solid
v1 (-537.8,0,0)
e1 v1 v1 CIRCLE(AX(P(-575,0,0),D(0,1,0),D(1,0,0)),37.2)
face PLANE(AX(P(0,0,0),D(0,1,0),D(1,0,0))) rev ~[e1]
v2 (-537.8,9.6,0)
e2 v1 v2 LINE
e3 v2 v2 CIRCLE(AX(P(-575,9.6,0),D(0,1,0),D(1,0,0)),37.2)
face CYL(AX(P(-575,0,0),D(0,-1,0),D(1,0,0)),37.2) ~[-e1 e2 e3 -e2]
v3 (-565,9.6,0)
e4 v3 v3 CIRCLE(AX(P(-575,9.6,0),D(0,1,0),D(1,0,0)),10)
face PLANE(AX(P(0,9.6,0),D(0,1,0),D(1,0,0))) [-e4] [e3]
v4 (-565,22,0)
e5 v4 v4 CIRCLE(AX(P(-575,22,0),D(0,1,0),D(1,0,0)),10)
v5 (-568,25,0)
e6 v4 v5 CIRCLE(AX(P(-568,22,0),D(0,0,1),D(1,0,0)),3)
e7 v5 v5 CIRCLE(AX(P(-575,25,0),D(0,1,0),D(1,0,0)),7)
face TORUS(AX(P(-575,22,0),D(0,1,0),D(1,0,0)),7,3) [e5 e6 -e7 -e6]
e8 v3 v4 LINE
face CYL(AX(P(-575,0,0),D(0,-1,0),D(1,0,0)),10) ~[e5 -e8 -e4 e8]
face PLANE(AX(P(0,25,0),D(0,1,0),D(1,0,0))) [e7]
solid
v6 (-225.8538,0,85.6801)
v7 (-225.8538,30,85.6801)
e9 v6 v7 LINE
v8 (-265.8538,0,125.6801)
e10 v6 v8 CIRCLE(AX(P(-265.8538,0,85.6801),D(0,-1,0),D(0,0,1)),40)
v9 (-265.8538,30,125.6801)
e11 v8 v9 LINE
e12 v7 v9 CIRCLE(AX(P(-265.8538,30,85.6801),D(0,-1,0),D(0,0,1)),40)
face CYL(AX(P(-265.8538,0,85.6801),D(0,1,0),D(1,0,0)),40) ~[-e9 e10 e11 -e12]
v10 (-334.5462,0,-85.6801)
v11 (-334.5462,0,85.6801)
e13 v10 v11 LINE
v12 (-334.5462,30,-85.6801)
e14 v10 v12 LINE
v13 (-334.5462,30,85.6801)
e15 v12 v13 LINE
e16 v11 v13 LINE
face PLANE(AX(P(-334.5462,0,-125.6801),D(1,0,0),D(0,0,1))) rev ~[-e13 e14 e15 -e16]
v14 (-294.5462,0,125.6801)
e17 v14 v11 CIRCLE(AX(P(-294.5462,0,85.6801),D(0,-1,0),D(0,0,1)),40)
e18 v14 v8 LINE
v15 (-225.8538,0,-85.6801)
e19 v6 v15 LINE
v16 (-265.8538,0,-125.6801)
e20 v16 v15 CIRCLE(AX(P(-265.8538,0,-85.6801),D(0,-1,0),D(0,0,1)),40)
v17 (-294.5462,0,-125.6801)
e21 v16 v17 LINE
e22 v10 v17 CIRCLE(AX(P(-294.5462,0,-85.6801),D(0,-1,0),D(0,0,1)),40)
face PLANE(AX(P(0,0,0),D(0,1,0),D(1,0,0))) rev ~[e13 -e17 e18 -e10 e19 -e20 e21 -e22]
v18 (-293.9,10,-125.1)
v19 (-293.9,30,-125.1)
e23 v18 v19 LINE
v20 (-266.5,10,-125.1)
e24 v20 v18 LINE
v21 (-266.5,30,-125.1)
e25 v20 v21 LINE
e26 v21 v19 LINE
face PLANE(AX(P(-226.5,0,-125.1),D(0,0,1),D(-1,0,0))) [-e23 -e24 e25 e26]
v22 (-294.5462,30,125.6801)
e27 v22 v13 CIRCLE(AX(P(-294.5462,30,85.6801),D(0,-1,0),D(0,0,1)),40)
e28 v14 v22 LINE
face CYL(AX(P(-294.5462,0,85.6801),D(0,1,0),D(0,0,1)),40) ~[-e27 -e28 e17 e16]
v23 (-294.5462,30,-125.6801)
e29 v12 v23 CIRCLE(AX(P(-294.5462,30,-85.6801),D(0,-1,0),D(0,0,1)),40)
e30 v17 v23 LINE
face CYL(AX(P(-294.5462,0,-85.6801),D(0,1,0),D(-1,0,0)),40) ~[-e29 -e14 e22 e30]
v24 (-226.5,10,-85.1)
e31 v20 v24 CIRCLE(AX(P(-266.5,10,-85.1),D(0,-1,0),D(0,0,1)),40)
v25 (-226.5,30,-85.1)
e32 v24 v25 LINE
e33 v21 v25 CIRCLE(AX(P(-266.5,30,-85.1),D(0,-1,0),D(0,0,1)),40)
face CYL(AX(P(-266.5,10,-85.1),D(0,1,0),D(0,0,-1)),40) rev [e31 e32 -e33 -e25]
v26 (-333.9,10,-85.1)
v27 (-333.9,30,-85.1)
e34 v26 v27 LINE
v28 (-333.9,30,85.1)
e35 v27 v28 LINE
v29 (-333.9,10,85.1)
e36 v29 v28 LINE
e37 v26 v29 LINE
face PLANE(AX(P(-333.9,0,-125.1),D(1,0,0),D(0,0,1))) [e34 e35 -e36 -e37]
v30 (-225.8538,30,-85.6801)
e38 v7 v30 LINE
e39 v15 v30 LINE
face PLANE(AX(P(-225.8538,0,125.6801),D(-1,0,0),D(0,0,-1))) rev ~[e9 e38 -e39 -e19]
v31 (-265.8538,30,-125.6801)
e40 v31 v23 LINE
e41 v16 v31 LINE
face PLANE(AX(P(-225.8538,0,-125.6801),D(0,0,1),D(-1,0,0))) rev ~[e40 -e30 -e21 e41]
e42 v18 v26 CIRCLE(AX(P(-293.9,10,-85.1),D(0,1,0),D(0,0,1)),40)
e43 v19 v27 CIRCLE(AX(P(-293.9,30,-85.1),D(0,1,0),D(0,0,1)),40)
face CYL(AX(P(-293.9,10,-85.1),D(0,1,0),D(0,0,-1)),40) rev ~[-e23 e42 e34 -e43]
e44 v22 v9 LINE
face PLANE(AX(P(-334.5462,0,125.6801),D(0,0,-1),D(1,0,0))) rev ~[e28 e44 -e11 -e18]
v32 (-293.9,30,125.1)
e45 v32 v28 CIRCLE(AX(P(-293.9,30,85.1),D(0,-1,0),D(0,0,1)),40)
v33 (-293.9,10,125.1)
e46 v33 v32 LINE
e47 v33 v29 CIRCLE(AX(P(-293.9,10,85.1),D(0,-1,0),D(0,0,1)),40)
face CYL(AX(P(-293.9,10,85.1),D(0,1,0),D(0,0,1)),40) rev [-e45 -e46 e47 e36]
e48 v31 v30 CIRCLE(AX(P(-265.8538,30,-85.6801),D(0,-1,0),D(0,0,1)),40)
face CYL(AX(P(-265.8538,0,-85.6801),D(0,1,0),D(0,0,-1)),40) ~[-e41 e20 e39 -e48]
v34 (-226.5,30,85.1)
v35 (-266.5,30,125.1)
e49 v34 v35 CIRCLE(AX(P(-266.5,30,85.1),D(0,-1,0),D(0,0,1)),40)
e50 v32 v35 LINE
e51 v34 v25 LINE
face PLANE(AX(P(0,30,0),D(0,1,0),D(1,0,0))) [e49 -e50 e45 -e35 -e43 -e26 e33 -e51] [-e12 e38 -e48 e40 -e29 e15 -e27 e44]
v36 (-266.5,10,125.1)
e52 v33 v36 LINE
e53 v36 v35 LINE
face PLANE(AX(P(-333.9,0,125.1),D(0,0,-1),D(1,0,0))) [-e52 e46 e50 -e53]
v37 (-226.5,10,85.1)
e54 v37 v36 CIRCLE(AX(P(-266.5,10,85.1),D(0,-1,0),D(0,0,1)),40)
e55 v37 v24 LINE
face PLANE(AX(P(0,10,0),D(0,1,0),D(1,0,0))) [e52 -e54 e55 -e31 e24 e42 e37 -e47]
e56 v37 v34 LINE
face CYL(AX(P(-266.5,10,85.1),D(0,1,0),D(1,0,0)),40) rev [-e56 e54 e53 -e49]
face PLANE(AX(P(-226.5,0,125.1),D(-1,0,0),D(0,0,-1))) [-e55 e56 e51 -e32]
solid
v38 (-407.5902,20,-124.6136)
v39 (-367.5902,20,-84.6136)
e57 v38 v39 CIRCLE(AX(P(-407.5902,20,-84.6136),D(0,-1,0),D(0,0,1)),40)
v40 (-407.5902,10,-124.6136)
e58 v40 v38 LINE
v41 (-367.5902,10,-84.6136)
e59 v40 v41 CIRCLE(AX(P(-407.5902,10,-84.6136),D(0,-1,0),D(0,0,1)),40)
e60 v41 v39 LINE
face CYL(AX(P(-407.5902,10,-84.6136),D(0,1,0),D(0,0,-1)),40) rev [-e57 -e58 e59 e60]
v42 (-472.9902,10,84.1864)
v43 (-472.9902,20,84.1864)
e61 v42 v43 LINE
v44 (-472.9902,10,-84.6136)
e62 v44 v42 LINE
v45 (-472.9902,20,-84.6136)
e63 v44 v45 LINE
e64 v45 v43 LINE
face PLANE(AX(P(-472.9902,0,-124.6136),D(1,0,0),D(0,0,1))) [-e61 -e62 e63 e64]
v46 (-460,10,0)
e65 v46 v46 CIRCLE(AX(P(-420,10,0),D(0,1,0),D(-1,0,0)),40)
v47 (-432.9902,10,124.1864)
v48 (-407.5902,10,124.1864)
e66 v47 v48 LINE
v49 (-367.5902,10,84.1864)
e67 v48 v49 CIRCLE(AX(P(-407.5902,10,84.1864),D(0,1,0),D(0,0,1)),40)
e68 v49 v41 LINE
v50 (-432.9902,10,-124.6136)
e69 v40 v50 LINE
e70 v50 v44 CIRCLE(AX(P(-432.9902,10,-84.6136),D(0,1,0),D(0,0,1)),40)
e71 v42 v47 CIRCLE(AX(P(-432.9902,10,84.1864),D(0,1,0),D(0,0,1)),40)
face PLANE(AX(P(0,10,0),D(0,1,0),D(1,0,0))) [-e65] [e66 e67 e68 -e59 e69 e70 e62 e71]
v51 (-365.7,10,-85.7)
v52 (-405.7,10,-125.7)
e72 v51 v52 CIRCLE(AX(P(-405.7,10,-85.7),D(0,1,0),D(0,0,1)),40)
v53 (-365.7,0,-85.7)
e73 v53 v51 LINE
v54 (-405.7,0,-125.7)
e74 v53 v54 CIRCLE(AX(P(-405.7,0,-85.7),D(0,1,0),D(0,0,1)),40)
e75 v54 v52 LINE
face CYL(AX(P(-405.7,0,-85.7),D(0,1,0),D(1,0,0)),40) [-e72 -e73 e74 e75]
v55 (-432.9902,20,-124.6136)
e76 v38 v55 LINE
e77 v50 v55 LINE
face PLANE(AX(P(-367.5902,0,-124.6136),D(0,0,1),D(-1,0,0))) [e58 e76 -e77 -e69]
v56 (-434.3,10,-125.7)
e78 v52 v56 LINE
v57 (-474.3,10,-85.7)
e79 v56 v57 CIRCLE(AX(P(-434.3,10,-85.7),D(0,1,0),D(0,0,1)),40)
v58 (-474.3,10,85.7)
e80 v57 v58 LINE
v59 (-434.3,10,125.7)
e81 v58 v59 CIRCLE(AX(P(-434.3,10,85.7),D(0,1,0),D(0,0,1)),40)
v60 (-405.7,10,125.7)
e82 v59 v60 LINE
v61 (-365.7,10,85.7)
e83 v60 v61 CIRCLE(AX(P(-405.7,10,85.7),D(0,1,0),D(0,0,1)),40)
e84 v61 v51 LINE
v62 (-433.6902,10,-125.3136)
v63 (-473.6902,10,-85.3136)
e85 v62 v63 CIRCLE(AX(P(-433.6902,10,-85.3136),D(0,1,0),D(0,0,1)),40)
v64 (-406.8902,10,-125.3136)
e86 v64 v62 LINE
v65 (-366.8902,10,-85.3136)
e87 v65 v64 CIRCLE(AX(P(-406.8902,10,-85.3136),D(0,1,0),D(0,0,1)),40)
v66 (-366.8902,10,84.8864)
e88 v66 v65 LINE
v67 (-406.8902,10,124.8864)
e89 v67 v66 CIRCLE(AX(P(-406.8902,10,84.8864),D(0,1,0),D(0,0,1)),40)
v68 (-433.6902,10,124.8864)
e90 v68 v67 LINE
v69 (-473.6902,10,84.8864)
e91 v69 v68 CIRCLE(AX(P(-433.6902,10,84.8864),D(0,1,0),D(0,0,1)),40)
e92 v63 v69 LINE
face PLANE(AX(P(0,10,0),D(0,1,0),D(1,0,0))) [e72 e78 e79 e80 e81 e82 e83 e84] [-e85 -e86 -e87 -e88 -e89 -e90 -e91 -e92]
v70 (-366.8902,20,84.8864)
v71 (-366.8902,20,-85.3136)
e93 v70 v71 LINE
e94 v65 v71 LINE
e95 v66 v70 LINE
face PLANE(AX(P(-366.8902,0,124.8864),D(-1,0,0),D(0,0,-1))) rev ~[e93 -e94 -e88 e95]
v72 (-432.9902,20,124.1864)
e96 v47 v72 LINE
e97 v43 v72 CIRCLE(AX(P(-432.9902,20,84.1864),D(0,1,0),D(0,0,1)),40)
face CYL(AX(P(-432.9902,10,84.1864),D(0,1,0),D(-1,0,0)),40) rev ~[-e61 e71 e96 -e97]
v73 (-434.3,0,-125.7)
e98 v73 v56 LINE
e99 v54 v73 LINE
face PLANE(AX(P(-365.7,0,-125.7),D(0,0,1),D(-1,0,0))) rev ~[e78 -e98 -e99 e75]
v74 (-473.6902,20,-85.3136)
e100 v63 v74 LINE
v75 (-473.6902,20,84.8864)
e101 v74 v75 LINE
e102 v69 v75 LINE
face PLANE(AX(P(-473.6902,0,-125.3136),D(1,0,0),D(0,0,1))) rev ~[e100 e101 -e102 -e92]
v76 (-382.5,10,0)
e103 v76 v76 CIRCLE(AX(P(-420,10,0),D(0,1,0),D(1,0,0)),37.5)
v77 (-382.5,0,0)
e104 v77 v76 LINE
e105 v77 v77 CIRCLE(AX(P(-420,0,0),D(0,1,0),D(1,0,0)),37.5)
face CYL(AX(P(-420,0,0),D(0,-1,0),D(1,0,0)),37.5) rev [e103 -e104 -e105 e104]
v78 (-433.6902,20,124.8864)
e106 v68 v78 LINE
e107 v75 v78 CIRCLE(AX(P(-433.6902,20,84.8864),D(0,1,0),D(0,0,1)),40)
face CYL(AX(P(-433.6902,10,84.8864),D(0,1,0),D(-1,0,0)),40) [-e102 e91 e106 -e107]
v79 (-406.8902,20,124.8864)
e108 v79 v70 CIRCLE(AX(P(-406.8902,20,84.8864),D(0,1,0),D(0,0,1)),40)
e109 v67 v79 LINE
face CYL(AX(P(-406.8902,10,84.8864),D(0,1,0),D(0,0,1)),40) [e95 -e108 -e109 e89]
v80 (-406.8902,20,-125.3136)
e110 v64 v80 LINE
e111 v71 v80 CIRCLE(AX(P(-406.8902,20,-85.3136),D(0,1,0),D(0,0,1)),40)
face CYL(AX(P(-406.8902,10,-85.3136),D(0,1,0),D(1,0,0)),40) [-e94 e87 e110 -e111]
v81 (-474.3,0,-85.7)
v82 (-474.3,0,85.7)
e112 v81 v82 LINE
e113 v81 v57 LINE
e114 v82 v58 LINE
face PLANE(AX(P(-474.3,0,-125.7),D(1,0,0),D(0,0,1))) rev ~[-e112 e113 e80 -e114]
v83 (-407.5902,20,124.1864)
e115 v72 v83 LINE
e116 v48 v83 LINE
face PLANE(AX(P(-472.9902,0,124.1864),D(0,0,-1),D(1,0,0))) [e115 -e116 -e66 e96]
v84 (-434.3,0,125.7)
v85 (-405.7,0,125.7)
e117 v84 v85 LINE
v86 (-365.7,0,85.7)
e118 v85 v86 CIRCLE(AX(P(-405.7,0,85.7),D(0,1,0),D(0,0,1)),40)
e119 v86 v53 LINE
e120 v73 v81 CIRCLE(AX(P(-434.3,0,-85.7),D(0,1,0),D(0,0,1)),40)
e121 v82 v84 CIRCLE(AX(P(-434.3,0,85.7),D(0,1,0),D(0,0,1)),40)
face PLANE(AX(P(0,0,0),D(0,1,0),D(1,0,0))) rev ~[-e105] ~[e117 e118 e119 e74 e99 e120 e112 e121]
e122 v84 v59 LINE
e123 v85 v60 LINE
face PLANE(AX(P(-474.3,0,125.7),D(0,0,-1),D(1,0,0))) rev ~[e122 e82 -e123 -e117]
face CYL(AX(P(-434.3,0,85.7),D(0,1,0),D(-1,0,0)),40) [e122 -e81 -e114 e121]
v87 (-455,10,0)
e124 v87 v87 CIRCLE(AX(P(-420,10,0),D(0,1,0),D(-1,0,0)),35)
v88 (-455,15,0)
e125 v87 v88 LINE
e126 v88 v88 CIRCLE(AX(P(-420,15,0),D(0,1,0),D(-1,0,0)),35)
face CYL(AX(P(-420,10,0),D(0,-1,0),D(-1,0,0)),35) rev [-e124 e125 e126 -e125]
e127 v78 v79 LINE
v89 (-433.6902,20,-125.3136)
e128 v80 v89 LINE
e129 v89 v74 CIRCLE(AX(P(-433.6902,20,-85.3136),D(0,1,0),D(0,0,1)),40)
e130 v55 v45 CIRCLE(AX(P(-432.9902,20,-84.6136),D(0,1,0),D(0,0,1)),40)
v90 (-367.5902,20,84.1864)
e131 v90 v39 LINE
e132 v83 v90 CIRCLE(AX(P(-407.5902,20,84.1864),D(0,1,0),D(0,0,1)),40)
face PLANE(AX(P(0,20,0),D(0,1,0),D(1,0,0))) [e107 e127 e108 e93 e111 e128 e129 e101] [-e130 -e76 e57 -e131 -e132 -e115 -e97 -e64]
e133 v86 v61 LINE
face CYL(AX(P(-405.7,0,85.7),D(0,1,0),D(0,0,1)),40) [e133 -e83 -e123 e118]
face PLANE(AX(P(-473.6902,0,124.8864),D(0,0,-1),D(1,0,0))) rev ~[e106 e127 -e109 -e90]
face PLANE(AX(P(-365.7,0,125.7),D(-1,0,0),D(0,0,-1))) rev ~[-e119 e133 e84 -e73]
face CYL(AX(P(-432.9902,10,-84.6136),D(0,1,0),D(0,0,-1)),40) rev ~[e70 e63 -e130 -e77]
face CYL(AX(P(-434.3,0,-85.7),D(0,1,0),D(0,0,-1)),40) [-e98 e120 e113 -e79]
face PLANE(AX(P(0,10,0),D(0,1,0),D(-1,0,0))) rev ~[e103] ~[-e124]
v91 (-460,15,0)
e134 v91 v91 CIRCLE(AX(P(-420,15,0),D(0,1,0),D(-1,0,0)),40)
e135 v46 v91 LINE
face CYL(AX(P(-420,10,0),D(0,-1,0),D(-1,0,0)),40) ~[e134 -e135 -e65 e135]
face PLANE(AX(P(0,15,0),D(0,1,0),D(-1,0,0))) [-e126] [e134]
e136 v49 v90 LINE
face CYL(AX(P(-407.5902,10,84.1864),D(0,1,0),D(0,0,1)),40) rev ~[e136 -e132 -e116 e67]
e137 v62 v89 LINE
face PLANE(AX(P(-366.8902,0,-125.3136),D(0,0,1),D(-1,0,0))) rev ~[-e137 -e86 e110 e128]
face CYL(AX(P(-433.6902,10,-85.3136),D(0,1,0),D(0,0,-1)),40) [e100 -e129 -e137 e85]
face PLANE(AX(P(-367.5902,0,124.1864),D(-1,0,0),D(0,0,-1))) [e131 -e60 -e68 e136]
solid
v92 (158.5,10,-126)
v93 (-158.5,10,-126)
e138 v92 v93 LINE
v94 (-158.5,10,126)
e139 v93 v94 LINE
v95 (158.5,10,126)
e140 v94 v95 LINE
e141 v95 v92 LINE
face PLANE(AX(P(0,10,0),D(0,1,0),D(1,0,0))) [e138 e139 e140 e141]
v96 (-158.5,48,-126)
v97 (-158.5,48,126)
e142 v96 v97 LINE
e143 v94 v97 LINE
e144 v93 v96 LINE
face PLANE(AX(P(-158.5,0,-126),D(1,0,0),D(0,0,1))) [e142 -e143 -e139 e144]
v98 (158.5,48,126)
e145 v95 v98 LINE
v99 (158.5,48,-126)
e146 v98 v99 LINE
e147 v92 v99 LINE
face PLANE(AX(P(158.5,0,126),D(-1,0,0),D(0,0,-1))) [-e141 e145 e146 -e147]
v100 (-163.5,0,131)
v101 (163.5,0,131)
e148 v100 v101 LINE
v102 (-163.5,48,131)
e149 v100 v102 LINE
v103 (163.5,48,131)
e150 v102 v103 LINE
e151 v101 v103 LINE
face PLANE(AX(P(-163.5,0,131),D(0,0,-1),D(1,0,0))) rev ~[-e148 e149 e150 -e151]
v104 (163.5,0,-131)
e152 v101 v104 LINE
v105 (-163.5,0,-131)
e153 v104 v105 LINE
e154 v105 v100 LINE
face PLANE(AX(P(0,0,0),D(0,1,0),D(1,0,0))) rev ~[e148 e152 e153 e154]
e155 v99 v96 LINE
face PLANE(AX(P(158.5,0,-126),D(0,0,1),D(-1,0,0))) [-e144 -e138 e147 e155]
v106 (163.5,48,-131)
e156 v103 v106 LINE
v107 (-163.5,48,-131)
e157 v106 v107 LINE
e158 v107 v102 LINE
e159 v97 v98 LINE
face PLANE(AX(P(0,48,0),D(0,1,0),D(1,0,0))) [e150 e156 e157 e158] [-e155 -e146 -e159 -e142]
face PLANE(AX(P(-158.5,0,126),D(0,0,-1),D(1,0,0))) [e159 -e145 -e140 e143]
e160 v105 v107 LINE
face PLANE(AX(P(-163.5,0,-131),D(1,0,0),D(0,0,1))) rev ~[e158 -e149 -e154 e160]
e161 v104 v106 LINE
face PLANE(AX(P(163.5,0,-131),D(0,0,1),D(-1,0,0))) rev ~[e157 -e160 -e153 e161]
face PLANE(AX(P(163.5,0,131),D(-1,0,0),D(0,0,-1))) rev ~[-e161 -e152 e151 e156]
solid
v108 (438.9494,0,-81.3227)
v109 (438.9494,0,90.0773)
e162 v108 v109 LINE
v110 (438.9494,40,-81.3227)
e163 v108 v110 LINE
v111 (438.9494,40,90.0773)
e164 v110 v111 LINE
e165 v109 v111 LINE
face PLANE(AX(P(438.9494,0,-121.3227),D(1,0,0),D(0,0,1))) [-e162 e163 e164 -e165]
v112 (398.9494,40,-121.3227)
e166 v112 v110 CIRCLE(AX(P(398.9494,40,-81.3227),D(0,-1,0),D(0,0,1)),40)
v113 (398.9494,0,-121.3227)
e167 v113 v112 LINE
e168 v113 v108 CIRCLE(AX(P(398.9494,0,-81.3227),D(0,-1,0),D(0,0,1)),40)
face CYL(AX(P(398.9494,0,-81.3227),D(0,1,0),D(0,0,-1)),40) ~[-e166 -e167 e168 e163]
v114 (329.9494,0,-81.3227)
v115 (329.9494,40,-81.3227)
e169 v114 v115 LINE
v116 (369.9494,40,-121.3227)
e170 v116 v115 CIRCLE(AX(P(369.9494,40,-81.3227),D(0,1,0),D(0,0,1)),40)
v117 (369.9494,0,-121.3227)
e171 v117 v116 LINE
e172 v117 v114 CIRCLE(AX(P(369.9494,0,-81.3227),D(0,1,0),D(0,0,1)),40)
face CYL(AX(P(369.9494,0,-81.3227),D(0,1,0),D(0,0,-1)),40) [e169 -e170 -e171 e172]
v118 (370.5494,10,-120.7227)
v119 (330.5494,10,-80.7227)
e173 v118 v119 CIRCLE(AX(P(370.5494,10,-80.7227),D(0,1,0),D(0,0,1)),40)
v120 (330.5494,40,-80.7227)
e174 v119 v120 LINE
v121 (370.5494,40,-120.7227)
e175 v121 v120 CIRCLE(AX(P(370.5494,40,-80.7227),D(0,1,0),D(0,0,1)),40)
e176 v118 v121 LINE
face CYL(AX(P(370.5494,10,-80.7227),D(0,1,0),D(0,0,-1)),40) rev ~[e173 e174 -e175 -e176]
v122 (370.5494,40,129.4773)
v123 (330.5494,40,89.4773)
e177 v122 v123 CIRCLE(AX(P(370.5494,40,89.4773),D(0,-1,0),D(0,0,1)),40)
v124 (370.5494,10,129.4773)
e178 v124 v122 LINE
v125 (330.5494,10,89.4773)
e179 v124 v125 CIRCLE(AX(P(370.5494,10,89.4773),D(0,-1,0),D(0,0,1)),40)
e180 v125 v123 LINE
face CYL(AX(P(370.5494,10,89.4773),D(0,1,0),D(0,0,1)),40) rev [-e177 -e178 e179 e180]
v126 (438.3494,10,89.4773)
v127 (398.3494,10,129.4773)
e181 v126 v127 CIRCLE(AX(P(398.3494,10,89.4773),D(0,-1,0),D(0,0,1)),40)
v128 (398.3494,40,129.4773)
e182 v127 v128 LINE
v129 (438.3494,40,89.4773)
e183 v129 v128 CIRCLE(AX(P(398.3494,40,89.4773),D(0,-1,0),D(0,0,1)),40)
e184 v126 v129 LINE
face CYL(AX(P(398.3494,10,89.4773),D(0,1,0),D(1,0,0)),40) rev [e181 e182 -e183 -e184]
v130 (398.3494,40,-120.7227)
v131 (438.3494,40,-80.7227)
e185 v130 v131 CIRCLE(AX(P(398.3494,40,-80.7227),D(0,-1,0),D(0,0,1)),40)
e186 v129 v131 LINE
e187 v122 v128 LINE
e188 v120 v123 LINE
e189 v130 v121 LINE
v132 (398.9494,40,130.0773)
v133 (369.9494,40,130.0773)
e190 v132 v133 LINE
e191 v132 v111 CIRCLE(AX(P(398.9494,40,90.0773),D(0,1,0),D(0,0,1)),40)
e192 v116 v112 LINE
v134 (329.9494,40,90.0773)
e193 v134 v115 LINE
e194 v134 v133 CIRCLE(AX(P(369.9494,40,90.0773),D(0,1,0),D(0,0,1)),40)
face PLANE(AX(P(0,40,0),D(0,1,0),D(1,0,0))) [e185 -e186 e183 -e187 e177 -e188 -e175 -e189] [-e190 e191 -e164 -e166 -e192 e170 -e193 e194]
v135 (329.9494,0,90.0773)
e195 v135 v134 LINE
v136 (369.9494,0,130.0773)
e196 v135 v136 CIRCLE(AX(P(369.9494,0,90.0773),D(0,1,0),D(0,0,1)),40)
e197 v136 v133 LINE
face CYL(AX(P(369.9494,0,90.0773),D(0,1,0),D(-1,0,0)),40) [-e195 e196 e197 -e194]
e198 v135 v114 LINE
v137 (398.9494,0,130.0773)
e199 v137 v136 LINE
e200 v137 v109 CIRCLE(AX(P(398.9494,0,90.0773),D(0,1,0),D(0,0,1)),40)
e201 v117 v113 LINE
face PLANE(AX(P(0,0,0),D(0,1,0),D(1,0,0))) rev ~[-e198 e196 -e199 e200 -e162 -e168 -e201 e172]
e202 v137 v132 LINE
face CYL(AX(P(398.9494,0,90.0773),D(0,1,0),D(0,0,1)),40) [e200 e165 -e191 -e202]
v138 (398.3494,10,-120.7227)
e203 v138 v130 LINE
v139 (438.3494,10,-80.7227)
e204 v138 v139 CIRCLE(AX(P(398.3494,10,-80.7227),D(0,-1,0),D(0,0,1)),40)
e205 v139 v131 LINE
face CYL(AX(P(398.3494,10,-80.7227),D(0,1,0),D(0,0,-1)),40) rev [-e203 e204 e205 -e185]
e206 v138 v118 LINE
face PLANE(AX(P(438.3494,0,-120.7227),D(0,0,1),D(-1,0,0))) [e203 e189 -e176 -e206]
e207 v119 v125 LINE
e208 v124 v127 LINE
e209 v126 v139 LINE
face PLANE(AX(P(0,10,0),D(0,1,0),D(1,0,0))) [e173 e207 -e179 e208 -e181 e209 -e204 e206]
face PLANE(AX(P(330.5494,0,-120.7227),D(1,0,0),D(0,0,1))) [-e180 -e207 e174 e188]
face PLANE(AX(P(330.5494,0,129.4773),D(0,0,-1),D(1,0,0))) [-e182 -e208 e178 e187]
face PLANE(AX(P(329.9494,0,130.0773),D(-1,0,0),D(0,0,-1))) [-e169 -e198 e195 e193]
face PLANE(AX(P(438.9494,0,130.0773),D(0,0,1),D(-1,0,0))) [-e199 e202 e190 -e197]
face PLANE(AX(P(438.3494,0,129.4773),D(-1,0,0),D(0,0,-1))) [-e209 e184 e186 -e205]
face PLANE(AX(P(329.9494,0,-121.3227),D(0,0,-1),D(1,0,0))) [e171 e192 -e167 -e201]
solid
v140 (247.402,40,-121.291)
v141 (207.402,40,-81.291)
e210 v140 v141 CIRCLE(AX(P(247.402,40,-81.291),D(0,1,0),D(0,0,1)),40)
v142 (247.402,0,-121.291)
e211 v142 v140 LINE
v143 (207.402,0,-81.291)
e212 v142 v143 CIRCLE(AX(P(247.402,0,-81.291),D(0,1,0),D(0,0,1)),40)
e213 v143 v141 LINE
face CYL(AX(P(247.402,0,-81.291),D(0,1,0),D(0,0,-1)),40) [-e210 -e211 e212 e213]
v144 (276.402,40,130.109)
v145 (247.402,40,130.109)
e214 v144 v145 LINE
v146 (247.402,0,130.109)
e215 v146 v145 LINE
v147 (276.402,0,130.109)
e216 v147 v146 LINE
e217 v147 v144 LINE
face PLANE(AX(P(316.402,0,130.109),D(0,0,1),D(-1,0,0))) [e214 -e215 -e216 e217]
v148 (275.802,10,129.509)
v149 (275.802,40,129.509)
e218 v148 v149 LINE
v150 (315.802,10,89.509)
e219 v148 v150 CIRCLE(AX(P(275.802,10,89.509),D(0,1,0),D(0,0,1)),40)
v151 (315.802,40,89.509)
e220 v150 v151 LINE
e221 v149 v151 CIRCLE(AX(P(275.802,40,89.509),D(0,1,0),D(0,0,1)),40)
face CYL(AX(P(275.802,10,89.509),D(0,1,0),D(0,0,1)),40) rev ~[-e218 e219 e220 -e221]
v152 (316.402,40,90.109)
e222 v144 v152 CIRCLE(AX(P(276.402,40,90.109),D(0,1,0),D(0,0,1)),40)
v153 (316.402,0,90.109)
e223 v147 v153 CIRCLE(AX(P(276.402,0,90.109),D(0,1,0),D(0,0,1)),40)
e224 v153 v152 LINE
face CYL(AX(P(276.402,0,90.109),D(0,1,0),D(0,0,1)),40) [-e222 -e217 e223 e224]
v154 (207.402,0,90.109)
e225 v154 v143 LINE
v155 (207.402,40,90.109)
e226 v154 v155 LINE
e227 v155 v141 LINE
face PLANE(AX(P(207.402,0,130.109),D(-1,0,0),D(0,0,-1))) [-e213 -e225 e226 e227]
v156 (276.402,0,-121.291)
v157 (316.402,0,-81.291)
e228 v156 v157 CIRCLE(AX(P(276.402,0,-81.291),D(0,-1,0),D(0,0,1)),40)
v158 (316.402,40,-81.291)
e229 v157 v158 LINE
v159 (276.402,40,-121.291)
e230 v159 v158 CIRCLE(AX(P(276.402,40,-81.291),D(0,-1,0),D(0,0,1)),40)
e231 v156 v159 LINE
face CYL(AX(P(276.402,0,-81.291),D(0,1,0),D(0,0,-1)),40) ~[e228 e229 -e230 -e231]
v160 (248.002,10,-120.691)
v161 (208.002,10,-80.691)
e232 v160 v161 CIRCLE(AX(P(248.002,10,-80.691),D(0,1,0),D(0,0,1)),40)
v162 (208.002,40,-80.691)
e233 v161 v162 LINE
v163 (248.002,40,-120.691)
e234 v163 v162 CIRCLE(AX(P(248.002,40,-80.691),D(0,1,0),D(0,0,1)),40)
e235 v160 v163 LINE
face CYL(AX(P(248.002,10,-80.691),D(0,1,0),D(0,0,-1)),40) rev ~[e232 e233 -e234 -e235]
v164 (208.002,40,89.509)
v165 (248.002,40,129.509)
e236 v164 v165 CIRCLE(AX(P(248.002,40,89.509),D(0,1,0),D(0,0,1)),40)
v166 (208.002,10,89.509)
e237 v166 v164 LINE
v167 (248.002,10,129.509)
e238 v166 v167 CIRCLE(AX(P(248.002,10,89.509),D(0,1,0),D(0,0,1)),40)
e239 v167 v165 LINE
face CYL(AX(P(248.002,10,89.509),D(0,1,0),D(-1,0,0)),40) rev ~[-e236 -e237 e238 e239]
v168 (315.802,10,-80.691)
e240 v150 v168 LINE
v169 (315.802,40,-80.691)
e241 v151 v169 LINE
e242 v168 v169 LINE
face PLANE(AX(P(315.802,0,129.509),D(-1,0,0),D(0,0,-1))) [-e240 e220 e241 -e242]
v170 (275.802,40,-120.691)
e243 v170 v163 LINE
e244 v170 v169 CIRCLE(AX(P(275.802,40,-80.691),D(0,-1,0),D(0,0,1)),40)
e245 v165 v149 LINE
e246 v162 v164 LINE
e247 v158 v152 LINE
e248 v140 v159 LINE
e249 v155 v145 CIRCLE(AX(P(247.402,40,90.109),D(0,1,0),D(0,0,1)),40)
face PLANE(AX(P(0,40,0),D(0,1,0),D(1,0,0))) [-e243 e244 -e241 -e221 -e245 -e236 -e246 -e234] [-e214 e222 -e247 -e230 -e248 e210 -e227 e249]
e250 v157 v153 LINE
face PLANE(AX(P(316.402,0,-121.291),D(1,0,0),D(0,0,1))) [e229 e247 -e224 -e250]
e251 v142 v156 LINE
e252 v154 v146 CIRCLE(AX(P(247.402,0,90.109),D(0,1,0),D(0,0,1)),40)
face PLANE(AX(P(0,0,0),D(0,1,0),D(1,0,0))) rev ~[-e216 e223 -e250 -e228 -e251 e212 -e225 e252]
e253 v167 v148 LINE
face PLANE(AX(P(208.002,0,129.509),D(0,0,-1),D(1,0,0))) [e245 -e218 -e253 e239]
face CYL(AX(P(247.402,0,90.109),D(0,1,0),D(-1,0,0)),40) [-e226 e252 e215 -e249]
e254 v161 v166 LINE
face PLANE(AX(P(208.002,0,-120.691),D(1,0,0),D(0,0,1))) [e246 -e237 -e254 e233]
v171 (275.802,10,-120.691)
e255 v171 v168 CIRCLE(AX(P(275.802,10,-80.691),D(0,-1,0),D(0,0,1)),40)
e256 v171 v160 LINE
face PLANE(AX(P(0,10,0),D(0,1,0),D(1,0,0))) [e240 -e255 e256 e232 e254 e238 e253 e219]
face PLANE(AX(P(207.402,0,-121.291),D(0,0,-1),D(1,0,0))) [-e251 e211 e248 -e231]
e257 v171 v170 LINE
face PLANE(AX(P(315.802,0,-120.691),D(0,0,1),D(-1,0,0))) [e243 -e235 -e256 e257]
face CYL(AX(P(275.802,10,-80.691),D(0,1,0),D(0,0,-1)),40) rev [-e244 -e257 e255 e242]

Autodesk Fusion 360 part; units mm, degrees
sketch "Sketch1" plane through (0, 0, 0) normal (0, 1, 0) x (1, 0, 0)
  line L0 (163.5, 131) -> (-163.5, 131)
  line L1 (-163.5, 131) -> (-163.5, -131)
  line L2 (-163.5, -131) -> (163.5, -131)
  line L3 (163.5, -131) -> (163.5, 131)
  line L4 (163.5, 131) -> (-163.5, -131) construction
  line L5 (-163.5, 131) -> (163.5, -131) construction
  line L6 (158.5, 126) -> (-158.5, 126)
  line L7 (-158.5, 126) -> (-158.5, -126)
  line L8 (-158.5, -126) -> (158.5, -126)
  line L9 (158.5, -126) -> (158.5, 126)
  line L10 (158.5, 126) -> (-158.5, -126) construction
  line L11 (-158.5, 126) -> (158.5, -126) construction
  dimension "d1" = 327
  dimension "d2" = 262
  dimension "d3" = 317
  dimension "d4" = 252
extrude "Extrude1" add sketch "Sketch1" along normal blind 48 makes body 1
sketch "Sketch2" plane through (0, 0, 0) normal (0, 1, 0) x (1, 0, 0)
  line L0 (-161.5, 130) -> (161.5, 130)
  line L1 (161.5, 130) -> (161.5, -130)
  line L2 (161.5, -130) -> (-161.5, -130)
  line L3 (-161.5, -130) -> (-161.5, 130)
  line L4 (-161.5, 130) -> (161.5, -130) construction
  line L5 (161.5, 130) -> (-161.5, -130) construction
  dimension "d7" = 323
  dimension "d8" = 260
extrude "Extrude2" add sketch "Sketch2" along normal blind 10 bodies 1
sketch "Sketch3" plane through (0, 10, 0) normal (0, 1, 0) x (-1, 0, 0)
  line L0 (158.5, 126) -> (-158.5, 126)
  line L1 (-158.5, 126) -> (-158.5, -126)
  line L2 (-158.5, -126) -> (158.5, -126)
  line L3 (158.5, -126) -> (158.5, 126)
sketch "Sketch4" plane through (0, 10, 0) normal (0, 1, 0) x (-1, 0, 0)
  line L0 (158.5, 126) -> (-158.5, 126)
  line L1 (-158.5, 126) -> (-158.5, -126)
  line L2 (-158.5, -126) -> (158.5, -126)
  line L3 (158.5, -126) -> (158.5, 126)
  line L4 (-320, -124) -> (-220, -124)
  line L5 (-220, -124) -> (-220, 124)
  line L6 (-220, 124) -> (-320, 124)
  line L7 (-320, 124) -> (-320, -124)
  line L8 (-320, -124) -> (-220, 124) construction
  line L9 (-220, -124) -> (-320, 124) construction
  point P0 (-270, 0)
  dimension "d17" = 100
  dimension "d18" = 248
sketch "Sketch5" plane through (0, 20, 0) normal (0, 1, 0) x (-1, 0, 0)
sketch "Sketch6" plane through (0, 10, 0) normal (0, 1, 0) x (-1, 0, 0)
  line L0 (158.5, 126) -> (-158.5, 126)
  line L1 (-158.5, 126) -> (-158.5, -126)
  line L2 (-158.5, -126) -> (158.5, -126)
  line L3 (158.5, -126) -> (158.5, 126)
sketch "Sketch9" plane through (0, 20, 0) normal (0, 1, 0) x (-1, 0, 0)
sketch "Sketch10" plane through (0, 10, 0) normal (0, 1, 0) x (-1, 0, 0)
sketch "Sketch11" plane through (0, 0, 0) normal (0, 1, 0) x (1, 0, 0)
sketch "Sketch12" plane through (0, 20, 0) normal (0, 1, 0) x (1, 0, 0)
sketch "Sketch14" plane through (0, 0, 0) normal (0, 1, 0) x (1, 0, 0)
sketch "Sketch15" plane through (0, 0, 0) normal (0, 1, 0) x (1, 0, 0)
  line L0 (207.402, 121.291) -> (316.402, 121.291)
  line L1 (316.402, 121.291) -> (316.402, -130.109)
  line L2 (316.402, -130.109) -> (207.402, -130.109)
  line L3 (207.402, -130.109) -> (207.402, 121.291)
  line L4 (207.402, 121.291) -> (316.402, -130.109) construction
  line L5 (316.402, 121.291) -> (207.402, -130.109) construction
  line L6 (315.802, 120.691) -> (208.002, 120.691)
  line L7 (208.002, 120.691) -> (208.002, -129.509)
  line L8 (208.002, -129.509) -> (315.802, -129.509)
  line L9 (315.802, -129.509) -> (315.802, 120.691)
  line L10 (315.802, 120.691) -> (208.002, -129.509) construction
  line L11 (208.002, 120.691) -> (315.802, -129.509) construction
  point P0 (261.902, -4.409)
  point P1 (261.902, -4.409)
  dimension "d42" = 109
  dimension "d43" = 251.4
  dimension "d44" = 107.8
  dimension "d45" = 250.2
extrude "Extrude8" add sketch "Sketch15" along normal blind 40 separate body makes body 2
extrude "Extrude9" add sketch "Sketch15" along normal blind 10 contours L6 L7 L8 L9 bodies 2
sketch "Sketch16" plane through (0, 0, 0) normal (0, 1, 0) x (1, 0, 0)
sketch "Sketch17" plane through (0, 0, 0) normal (0, 1, 0) x (1, 0, 0)
  line L0 (329.9494, 121.3227) -> (438.9494, 121.3227)
  line L1 (438.9494, 121.3227) -> (438.9494, -130.0773)
  line L2 (438.9494, -130.0773) -> (329.9494, -130.0773)
  line L3 (329.9494, -130.0773) -> (329.9494, 121.3227)
  line L4 (329.9494, 121.3227) -> (438.9494, -130.0773) construction
  line L5 (438.9494, 121.3227) -> (329.9494, -130.0773) construction
  line L6 (438.3494, 120.7227) -> (330.5494, 120.7227)
  line L7 (330.5494, 120.7227) -> (330.5494, -129.4773)
  line L8 (330.5494, -129.4773) -> (438.3494, -129.4773)
  line L9 (438.3494, -129.4773) -> (438.3494, 120.7227)
  line L10 (438.3494, 120.7227) -> (330.5494, -129.4773) construction
  line L11 (330.5494, 120.7227) -> (438.3494, -129.4773) construction
  point P0 (384.4494, -4.3773)
  point P1 (384.4494, -4.3773)
  dimension "d50" = 109
  dimension "d51" = 251.4
  dimension "d52" = 107.8
  dimension "d53" = 250.2
sketch "Sketch18" plane through (0, 0, 0) normal (0, 1, 0) x (1, 0, 0)
  line L0 (434.5, 120.7) -> (325.5, 120.7)
  line L1 (325.5, 120.7) -> (325.5, -120.7)
  line L2 (325.5, -120.7) -> (434.5, -120.7)
  line L3 (434.5, -120.7) -> (434.5, 120.7)
  line L4 (434.5, 120.7) -> (325.5, -120.7) construction
  line L5 (325.5, 120.7) -> (434.5, -120.7) construction
  point P0 (380, 0)
  dimension "d54" = 109
  dimension "d55" = 241.4
sketch "Sketch20" plane through (0, 0, 0) normal (0, 1, 0) x (1, 0, 0)
  line L0 (-225.9, 125.7) -> (-334.5, 125.7)
  line L1 (-334.5, 125.7) -> (-334.5, -125.5)
  line L2 (-334.5, -125.5) -> (-225.9, -125.5)
  line L3 (-225.9, -125.5) -> (-225.9, 125.7)
  line L4 (-225.9, 125.7) -> (-334.5, -125.5) construction
  line L5 (-334.5, 125.7) -> (-225.9, -125.5) construction
  point P0 (-280.2, 0.1)
  dimension "d60" = 108.6
  dimension "d61" = 251.2
sketch "Sketch35" plane through (0, 0, 0) normal (0, 1, 0) x (1, 0, 0)
  line L0 (-365.7, 125.7) -> (-474.3, 125.7)
  line L1 (-474.3, 125.7) -> (-474.3, -125.7)
  line L2 (-474.3, -125.7) -> (-365.7, -125.7)
  line L3 (-365.7, -125.7) -> (-365.7, 125.7)
  line L4 (-365.7, 125.7) -> (-474.3, -125.7) construction
  line L5 (-474.3, 125.7) -> (-365.7, -125.7) construction
  circle A0 centre (-420, 0) radius 37.5
  point P0 (-420, 0)
  dimension "d73" = 108.6
  dimension "d82" = 75
  dimension "d111" = 251.4
sketch "Sketch37" plane through (0, 0, 0) normal (0, 1, 0) x (1, 0, 0)
  line L0 (-366.8902, 125.3136) -> (-473.6902, 125.3136)
  line L1 (-473.6902, 125.3136) -> (-473.6902, -124.8864)
  line L2 (-473.6902, -124.8864) -> (-366.8902, -124.8864)
  line L3 (-366.8902, -124.8864) -> (-366.8902, 125.3136)
  line L4 (-366.8902, 125.3136) -> (-473.6902, -124.8864) construction
  line L5 (-473.6902, 125.3136) -> (-366.8902, -124.8864) construction
  line L6 (-367.5902, 124.6136) -> (-472.9902, 124.6136)
  line L7 (-472.9902, 124.6136) -> (-472.9902, -124.1864)
  line L8 (-472.9902, -124.1864) -> (-367.5902, -124.1864)
  line L9 (-367.5902, -124.1864) -> (-367.5902, 124.6136)
  line L10 (-367.5902, 124.6136) -> (-472.9902, -124.1864) construction
  line L11 (-472.9902, 124.6136) -> (-367.5902, -124.1864) construction
  point P0 (-420.2902, 0.2136)
  point P1 (-420.2902, 0.2136)
  dimension "d76" = 106.8
  dimension "d77" = 250.2
  dimension "d78" = 105.4
  dimension "d79" = 248.8
extrude "Extrude14" add sketch "Sketch37" along normal blind 20 separate body makes body 3
sketch "Sketch38" plane through (0, 0, 0) normal (0, 1, 0) x (1, 0, 0)
extrude "Extrude15" add sketch "Sketch35" along normal blind 10 bodies 3
sketch "Sketch39" plane through (0, 0, 0) normal (0, 1, 0) x (1, 0, 0)
sketch "Sketch40" plane through (0, 0, 0) normal (0, 0, 1) x (1, 0, 0)
sketch "Sketch41" plane through (0, 0, 0) normal (0, 1, 0) x (1, 0, 0)
sketch "Sketch42" plane through (0, 0, 0) normal (0, 1, 0) x (1, 0, 0)
  line L0 (-226.5, 125.1) -> (-333.9, 125.1)
  line L1 (-333.9, 125.1) -> (-333.9, -125.1)
  line L2 (-333.9, -125.1) -> (-226.5, -125.1)
  line L3 (-226.5, -125.1) -> (-226.5, 125.1)
  line L4 (-226.5, 125.1) -> (-333.9, -125.1) construction
  line L5 (-333.9, 125.1) -> (-226.5, -125.1) construction
  line L6 (-225.8538, 125.6801) -> (-334.5462, 125.6801)
  line L7 (-334.5462, 125.6801) -> (-334.5462, -125.6801)
  line L8 (-334.5462, -125.6801) -> (-225.8538, -125.6801)
  line L9 (-225.8538, -125.6801) -> (-225.8538, 125.6801)
  line L10 (-225.8538, 125.6801) -> (-334.5462, -125.6801) construction
  line L11 (-334.5462, 125.6801) -> (-225.8538, -125.6801) construction
  point P0 (-280.2, 0)
  point P1 (-280.2, 0)
  dimension "d85" = 107.4
  dimension "d86" = 250.2
sketch "Sketch43" plane through (0, 0, 0) normal (0, 1, 0) x (1, 0, 0)
sketch "Sketch44" plane through (0, 0, 0) normal (0, 1, 0) x (1, 0, 0)
sketch "Sketch45" plane through (0, 10, 0) normal (0, 1, 0) x (-1, 0, 0)
  circle A0 centre (420, 0) radius 37.5
  line L0 (367.5902, -124.6136) -> (472.9902, -124.6136)
  line L1 (472.9902, -124.6136) -> (472.9902, 124.1864)
  line L2 (472.9902, 124.1864) -> (367.5902, 124.1864)
  line L3 (367.5902, 124.1864) -> (367.5902, -124.6136)
  circle A1 centre (420, 0) radius 40
  circle A2 centre (420, 0) radius 35
  dimension "d91" = 80
  dimension "d92" = 70
extrude "Extrude18" add sketch "Sketch45" along normal blind 5 contours A0 | A1 bodies 3
sketch "Sketch46" plane through (0, 0, 0) normal (0, 0, 1) x (1, 0, 0)
sketch "Sketch47" plane through (0, 0, 0) normal (0, 1, 0) x (1, 0, 0)
sketch "Sketch48" plane through (0, 0, 0) normal (0, 1, 0) x (1, 0, 0)
  circle A0 centre (-575, 0) radius 37.2
  circle A1 centre (-575, 0) radius 10
  dimension "d95" = 74.4
  dimension "d96" = 20
extrude "Extrude19" add sketch "Sketch48" along normal blind 25 separate body contours A1 makes body 4
sketch "Sketch49" plane through (0, 0, 0) normal (0, 1, 0) x (1, 0, 0)
extrude "Extrude20" add sketch "Sketch48" along normal blind 9.6 bodies 4
fillet "Fillet1" radius 3 1 edges at (-584.3233, 25, 3.6162) on bodies 4
extrude "Extrude23" add sketch "Sketch17" along normal blind 40 separate body makes body 5
extrude "Extrude24" add sketch "Sketch17" along normal blind 10 contours L6 L7 L8 L9 bodies 5
extrude "Extrude25" add sketch "Sketch42" along normal blind 30 separate body makes body 6
extrude "Extrude26" add sketch "Sketch42" along normal blind 10 contours L0 L1 L2 L3 bodies 6
fillet "Fillet2" radius 40 1 edges at (-472.9902, 15, -124.6136) on bodies 3
fillet "Fillet3" radius 40 1 edges at (-367.5902, 15, -124.6136) on bodies 3
fillet "Fillet4" radius 40 1 edges at (-226.5, 20, -125.1) on bodies 6
fillet "Fillet5" radius 40 1 edges at (-333.9, 20, -125.1) on bodies 6
fillet "Fillet6" radius 40 1 edges at (-472.9902, 15, 124.1864) on bodies 3
fillet "Fillet7" radius 40 1 edges at (-367.5902, 15, 124.1864) on bodies 3
fillet "Fillet8" radius 40 1 edges at (-226.5, 20, 125.1) on bodies 6
fillet "Fillet9" radius 40 1 edges at (-333.9, 20, 125.1) on bodies 6
fillet "Fillet10" radius 40 1 edges at (208.002, 25, -120.691) on bodies 2
fillet "Fillet11" radius 40 1 edges at (315.802, 25, -120.691) on bodies 2
fillet "Fillet12" radius 40 1 edges at (438.3494, 25, -120.7227) on bodies 5
fillet "Fillet13" radius 40 1 edges at (330.5494, 25, -120.7227) on bodies 5
fillet "Fillet14" radius 40 1 edges at (-366.8902, 15, -125.3136) on bodies 3
fillet "Fillet15" radius 40 1 edges at (-365.7, 5, -125.7) on bodies 3
fillet "Fillet16" radius 40 1 edges at (-473.6902, 15, -125.3136) on bodies 3
fillet "Fillet17" radius 40 1 edges at (-474.3, 5, -125.7) on bodies 3
fillet "Fillet18" radius 40 1 edges at (-473.6902, 15, 124.8864) on bodies 3
fillet "Fillet19" radius 40 1 edges at (-474.3, 5, 125.7) on bodies 3
fillet "Fillet20" radius 40 1 edges at (-366.8902, 15, 124.8864) on bodies 3
fillet "Fillet21" radius 40 1 edges at (-365.7, 5, 125.7) on bodies 3
fillet "Fillet22" radius 40 1 edges at (-225.8538, 15, 125.6801) on bodies 6
fillet "Fillet23" radius 40 1 edges at (-334.5462, 15, 125.6801) on bodies 6
fillet "Fillet24" radius 40 1 edges at (-334.5462, 15, -125.6801) on bodies 6
fillet "Fillet25" radius 40 1 edges at (-225.8538, 15, -125.6801) on bodies 6
fillet "Fillet26" radius 40 1 edges at (207.402, 20, -121.291) on bodies 2
fillet "Fillet27" radius 40 1 edges at (316.402, 20, -121.291) on bodies 2
fillet "Fillet28" radius 40 1 edges at (329.9494, 20, -121.3227) on bodies 5
fillet "Fillet29" radius 40 1 edges at (438.9494, 20, -121.3227) on bodies 5
fillet "Fillet30" radius 40 1 edges at (208.002, 25, 129.509) on bodies 2
fillet "Fillet31" radius 40 1 edges at (315.802, 25, 129.509) on bodies 2
fillet "Fillet32" radius 40 1 edges at (438.3494, 25, 129.4773) on bodies 5
fillet "Fillet33" radius 40 1 edges at (330.5494, 25, 129.4773) on bodies 5
fillet "Fillet34" radius 40 1 edges at (207.402, 20, 130.109) on bodies 2
fillet "Fillet35" radius 40 1 edges at (329.9494, 20, 130.0773) on bodies 5
fillet "Fillet36" radius 40 1 edges at (316.402, 20, 130.109) on bodies 2
fillet "Fillet37" radius 40 1 edges at (438.9494, 20, 130.0773) on bodies 5
equation "d76 = 108 mm - 1.2 mm"
equation "d78 = 106.8 mm - 1.4 mm"
equation "d79 = 250.2 mm - 1.4 mm"
